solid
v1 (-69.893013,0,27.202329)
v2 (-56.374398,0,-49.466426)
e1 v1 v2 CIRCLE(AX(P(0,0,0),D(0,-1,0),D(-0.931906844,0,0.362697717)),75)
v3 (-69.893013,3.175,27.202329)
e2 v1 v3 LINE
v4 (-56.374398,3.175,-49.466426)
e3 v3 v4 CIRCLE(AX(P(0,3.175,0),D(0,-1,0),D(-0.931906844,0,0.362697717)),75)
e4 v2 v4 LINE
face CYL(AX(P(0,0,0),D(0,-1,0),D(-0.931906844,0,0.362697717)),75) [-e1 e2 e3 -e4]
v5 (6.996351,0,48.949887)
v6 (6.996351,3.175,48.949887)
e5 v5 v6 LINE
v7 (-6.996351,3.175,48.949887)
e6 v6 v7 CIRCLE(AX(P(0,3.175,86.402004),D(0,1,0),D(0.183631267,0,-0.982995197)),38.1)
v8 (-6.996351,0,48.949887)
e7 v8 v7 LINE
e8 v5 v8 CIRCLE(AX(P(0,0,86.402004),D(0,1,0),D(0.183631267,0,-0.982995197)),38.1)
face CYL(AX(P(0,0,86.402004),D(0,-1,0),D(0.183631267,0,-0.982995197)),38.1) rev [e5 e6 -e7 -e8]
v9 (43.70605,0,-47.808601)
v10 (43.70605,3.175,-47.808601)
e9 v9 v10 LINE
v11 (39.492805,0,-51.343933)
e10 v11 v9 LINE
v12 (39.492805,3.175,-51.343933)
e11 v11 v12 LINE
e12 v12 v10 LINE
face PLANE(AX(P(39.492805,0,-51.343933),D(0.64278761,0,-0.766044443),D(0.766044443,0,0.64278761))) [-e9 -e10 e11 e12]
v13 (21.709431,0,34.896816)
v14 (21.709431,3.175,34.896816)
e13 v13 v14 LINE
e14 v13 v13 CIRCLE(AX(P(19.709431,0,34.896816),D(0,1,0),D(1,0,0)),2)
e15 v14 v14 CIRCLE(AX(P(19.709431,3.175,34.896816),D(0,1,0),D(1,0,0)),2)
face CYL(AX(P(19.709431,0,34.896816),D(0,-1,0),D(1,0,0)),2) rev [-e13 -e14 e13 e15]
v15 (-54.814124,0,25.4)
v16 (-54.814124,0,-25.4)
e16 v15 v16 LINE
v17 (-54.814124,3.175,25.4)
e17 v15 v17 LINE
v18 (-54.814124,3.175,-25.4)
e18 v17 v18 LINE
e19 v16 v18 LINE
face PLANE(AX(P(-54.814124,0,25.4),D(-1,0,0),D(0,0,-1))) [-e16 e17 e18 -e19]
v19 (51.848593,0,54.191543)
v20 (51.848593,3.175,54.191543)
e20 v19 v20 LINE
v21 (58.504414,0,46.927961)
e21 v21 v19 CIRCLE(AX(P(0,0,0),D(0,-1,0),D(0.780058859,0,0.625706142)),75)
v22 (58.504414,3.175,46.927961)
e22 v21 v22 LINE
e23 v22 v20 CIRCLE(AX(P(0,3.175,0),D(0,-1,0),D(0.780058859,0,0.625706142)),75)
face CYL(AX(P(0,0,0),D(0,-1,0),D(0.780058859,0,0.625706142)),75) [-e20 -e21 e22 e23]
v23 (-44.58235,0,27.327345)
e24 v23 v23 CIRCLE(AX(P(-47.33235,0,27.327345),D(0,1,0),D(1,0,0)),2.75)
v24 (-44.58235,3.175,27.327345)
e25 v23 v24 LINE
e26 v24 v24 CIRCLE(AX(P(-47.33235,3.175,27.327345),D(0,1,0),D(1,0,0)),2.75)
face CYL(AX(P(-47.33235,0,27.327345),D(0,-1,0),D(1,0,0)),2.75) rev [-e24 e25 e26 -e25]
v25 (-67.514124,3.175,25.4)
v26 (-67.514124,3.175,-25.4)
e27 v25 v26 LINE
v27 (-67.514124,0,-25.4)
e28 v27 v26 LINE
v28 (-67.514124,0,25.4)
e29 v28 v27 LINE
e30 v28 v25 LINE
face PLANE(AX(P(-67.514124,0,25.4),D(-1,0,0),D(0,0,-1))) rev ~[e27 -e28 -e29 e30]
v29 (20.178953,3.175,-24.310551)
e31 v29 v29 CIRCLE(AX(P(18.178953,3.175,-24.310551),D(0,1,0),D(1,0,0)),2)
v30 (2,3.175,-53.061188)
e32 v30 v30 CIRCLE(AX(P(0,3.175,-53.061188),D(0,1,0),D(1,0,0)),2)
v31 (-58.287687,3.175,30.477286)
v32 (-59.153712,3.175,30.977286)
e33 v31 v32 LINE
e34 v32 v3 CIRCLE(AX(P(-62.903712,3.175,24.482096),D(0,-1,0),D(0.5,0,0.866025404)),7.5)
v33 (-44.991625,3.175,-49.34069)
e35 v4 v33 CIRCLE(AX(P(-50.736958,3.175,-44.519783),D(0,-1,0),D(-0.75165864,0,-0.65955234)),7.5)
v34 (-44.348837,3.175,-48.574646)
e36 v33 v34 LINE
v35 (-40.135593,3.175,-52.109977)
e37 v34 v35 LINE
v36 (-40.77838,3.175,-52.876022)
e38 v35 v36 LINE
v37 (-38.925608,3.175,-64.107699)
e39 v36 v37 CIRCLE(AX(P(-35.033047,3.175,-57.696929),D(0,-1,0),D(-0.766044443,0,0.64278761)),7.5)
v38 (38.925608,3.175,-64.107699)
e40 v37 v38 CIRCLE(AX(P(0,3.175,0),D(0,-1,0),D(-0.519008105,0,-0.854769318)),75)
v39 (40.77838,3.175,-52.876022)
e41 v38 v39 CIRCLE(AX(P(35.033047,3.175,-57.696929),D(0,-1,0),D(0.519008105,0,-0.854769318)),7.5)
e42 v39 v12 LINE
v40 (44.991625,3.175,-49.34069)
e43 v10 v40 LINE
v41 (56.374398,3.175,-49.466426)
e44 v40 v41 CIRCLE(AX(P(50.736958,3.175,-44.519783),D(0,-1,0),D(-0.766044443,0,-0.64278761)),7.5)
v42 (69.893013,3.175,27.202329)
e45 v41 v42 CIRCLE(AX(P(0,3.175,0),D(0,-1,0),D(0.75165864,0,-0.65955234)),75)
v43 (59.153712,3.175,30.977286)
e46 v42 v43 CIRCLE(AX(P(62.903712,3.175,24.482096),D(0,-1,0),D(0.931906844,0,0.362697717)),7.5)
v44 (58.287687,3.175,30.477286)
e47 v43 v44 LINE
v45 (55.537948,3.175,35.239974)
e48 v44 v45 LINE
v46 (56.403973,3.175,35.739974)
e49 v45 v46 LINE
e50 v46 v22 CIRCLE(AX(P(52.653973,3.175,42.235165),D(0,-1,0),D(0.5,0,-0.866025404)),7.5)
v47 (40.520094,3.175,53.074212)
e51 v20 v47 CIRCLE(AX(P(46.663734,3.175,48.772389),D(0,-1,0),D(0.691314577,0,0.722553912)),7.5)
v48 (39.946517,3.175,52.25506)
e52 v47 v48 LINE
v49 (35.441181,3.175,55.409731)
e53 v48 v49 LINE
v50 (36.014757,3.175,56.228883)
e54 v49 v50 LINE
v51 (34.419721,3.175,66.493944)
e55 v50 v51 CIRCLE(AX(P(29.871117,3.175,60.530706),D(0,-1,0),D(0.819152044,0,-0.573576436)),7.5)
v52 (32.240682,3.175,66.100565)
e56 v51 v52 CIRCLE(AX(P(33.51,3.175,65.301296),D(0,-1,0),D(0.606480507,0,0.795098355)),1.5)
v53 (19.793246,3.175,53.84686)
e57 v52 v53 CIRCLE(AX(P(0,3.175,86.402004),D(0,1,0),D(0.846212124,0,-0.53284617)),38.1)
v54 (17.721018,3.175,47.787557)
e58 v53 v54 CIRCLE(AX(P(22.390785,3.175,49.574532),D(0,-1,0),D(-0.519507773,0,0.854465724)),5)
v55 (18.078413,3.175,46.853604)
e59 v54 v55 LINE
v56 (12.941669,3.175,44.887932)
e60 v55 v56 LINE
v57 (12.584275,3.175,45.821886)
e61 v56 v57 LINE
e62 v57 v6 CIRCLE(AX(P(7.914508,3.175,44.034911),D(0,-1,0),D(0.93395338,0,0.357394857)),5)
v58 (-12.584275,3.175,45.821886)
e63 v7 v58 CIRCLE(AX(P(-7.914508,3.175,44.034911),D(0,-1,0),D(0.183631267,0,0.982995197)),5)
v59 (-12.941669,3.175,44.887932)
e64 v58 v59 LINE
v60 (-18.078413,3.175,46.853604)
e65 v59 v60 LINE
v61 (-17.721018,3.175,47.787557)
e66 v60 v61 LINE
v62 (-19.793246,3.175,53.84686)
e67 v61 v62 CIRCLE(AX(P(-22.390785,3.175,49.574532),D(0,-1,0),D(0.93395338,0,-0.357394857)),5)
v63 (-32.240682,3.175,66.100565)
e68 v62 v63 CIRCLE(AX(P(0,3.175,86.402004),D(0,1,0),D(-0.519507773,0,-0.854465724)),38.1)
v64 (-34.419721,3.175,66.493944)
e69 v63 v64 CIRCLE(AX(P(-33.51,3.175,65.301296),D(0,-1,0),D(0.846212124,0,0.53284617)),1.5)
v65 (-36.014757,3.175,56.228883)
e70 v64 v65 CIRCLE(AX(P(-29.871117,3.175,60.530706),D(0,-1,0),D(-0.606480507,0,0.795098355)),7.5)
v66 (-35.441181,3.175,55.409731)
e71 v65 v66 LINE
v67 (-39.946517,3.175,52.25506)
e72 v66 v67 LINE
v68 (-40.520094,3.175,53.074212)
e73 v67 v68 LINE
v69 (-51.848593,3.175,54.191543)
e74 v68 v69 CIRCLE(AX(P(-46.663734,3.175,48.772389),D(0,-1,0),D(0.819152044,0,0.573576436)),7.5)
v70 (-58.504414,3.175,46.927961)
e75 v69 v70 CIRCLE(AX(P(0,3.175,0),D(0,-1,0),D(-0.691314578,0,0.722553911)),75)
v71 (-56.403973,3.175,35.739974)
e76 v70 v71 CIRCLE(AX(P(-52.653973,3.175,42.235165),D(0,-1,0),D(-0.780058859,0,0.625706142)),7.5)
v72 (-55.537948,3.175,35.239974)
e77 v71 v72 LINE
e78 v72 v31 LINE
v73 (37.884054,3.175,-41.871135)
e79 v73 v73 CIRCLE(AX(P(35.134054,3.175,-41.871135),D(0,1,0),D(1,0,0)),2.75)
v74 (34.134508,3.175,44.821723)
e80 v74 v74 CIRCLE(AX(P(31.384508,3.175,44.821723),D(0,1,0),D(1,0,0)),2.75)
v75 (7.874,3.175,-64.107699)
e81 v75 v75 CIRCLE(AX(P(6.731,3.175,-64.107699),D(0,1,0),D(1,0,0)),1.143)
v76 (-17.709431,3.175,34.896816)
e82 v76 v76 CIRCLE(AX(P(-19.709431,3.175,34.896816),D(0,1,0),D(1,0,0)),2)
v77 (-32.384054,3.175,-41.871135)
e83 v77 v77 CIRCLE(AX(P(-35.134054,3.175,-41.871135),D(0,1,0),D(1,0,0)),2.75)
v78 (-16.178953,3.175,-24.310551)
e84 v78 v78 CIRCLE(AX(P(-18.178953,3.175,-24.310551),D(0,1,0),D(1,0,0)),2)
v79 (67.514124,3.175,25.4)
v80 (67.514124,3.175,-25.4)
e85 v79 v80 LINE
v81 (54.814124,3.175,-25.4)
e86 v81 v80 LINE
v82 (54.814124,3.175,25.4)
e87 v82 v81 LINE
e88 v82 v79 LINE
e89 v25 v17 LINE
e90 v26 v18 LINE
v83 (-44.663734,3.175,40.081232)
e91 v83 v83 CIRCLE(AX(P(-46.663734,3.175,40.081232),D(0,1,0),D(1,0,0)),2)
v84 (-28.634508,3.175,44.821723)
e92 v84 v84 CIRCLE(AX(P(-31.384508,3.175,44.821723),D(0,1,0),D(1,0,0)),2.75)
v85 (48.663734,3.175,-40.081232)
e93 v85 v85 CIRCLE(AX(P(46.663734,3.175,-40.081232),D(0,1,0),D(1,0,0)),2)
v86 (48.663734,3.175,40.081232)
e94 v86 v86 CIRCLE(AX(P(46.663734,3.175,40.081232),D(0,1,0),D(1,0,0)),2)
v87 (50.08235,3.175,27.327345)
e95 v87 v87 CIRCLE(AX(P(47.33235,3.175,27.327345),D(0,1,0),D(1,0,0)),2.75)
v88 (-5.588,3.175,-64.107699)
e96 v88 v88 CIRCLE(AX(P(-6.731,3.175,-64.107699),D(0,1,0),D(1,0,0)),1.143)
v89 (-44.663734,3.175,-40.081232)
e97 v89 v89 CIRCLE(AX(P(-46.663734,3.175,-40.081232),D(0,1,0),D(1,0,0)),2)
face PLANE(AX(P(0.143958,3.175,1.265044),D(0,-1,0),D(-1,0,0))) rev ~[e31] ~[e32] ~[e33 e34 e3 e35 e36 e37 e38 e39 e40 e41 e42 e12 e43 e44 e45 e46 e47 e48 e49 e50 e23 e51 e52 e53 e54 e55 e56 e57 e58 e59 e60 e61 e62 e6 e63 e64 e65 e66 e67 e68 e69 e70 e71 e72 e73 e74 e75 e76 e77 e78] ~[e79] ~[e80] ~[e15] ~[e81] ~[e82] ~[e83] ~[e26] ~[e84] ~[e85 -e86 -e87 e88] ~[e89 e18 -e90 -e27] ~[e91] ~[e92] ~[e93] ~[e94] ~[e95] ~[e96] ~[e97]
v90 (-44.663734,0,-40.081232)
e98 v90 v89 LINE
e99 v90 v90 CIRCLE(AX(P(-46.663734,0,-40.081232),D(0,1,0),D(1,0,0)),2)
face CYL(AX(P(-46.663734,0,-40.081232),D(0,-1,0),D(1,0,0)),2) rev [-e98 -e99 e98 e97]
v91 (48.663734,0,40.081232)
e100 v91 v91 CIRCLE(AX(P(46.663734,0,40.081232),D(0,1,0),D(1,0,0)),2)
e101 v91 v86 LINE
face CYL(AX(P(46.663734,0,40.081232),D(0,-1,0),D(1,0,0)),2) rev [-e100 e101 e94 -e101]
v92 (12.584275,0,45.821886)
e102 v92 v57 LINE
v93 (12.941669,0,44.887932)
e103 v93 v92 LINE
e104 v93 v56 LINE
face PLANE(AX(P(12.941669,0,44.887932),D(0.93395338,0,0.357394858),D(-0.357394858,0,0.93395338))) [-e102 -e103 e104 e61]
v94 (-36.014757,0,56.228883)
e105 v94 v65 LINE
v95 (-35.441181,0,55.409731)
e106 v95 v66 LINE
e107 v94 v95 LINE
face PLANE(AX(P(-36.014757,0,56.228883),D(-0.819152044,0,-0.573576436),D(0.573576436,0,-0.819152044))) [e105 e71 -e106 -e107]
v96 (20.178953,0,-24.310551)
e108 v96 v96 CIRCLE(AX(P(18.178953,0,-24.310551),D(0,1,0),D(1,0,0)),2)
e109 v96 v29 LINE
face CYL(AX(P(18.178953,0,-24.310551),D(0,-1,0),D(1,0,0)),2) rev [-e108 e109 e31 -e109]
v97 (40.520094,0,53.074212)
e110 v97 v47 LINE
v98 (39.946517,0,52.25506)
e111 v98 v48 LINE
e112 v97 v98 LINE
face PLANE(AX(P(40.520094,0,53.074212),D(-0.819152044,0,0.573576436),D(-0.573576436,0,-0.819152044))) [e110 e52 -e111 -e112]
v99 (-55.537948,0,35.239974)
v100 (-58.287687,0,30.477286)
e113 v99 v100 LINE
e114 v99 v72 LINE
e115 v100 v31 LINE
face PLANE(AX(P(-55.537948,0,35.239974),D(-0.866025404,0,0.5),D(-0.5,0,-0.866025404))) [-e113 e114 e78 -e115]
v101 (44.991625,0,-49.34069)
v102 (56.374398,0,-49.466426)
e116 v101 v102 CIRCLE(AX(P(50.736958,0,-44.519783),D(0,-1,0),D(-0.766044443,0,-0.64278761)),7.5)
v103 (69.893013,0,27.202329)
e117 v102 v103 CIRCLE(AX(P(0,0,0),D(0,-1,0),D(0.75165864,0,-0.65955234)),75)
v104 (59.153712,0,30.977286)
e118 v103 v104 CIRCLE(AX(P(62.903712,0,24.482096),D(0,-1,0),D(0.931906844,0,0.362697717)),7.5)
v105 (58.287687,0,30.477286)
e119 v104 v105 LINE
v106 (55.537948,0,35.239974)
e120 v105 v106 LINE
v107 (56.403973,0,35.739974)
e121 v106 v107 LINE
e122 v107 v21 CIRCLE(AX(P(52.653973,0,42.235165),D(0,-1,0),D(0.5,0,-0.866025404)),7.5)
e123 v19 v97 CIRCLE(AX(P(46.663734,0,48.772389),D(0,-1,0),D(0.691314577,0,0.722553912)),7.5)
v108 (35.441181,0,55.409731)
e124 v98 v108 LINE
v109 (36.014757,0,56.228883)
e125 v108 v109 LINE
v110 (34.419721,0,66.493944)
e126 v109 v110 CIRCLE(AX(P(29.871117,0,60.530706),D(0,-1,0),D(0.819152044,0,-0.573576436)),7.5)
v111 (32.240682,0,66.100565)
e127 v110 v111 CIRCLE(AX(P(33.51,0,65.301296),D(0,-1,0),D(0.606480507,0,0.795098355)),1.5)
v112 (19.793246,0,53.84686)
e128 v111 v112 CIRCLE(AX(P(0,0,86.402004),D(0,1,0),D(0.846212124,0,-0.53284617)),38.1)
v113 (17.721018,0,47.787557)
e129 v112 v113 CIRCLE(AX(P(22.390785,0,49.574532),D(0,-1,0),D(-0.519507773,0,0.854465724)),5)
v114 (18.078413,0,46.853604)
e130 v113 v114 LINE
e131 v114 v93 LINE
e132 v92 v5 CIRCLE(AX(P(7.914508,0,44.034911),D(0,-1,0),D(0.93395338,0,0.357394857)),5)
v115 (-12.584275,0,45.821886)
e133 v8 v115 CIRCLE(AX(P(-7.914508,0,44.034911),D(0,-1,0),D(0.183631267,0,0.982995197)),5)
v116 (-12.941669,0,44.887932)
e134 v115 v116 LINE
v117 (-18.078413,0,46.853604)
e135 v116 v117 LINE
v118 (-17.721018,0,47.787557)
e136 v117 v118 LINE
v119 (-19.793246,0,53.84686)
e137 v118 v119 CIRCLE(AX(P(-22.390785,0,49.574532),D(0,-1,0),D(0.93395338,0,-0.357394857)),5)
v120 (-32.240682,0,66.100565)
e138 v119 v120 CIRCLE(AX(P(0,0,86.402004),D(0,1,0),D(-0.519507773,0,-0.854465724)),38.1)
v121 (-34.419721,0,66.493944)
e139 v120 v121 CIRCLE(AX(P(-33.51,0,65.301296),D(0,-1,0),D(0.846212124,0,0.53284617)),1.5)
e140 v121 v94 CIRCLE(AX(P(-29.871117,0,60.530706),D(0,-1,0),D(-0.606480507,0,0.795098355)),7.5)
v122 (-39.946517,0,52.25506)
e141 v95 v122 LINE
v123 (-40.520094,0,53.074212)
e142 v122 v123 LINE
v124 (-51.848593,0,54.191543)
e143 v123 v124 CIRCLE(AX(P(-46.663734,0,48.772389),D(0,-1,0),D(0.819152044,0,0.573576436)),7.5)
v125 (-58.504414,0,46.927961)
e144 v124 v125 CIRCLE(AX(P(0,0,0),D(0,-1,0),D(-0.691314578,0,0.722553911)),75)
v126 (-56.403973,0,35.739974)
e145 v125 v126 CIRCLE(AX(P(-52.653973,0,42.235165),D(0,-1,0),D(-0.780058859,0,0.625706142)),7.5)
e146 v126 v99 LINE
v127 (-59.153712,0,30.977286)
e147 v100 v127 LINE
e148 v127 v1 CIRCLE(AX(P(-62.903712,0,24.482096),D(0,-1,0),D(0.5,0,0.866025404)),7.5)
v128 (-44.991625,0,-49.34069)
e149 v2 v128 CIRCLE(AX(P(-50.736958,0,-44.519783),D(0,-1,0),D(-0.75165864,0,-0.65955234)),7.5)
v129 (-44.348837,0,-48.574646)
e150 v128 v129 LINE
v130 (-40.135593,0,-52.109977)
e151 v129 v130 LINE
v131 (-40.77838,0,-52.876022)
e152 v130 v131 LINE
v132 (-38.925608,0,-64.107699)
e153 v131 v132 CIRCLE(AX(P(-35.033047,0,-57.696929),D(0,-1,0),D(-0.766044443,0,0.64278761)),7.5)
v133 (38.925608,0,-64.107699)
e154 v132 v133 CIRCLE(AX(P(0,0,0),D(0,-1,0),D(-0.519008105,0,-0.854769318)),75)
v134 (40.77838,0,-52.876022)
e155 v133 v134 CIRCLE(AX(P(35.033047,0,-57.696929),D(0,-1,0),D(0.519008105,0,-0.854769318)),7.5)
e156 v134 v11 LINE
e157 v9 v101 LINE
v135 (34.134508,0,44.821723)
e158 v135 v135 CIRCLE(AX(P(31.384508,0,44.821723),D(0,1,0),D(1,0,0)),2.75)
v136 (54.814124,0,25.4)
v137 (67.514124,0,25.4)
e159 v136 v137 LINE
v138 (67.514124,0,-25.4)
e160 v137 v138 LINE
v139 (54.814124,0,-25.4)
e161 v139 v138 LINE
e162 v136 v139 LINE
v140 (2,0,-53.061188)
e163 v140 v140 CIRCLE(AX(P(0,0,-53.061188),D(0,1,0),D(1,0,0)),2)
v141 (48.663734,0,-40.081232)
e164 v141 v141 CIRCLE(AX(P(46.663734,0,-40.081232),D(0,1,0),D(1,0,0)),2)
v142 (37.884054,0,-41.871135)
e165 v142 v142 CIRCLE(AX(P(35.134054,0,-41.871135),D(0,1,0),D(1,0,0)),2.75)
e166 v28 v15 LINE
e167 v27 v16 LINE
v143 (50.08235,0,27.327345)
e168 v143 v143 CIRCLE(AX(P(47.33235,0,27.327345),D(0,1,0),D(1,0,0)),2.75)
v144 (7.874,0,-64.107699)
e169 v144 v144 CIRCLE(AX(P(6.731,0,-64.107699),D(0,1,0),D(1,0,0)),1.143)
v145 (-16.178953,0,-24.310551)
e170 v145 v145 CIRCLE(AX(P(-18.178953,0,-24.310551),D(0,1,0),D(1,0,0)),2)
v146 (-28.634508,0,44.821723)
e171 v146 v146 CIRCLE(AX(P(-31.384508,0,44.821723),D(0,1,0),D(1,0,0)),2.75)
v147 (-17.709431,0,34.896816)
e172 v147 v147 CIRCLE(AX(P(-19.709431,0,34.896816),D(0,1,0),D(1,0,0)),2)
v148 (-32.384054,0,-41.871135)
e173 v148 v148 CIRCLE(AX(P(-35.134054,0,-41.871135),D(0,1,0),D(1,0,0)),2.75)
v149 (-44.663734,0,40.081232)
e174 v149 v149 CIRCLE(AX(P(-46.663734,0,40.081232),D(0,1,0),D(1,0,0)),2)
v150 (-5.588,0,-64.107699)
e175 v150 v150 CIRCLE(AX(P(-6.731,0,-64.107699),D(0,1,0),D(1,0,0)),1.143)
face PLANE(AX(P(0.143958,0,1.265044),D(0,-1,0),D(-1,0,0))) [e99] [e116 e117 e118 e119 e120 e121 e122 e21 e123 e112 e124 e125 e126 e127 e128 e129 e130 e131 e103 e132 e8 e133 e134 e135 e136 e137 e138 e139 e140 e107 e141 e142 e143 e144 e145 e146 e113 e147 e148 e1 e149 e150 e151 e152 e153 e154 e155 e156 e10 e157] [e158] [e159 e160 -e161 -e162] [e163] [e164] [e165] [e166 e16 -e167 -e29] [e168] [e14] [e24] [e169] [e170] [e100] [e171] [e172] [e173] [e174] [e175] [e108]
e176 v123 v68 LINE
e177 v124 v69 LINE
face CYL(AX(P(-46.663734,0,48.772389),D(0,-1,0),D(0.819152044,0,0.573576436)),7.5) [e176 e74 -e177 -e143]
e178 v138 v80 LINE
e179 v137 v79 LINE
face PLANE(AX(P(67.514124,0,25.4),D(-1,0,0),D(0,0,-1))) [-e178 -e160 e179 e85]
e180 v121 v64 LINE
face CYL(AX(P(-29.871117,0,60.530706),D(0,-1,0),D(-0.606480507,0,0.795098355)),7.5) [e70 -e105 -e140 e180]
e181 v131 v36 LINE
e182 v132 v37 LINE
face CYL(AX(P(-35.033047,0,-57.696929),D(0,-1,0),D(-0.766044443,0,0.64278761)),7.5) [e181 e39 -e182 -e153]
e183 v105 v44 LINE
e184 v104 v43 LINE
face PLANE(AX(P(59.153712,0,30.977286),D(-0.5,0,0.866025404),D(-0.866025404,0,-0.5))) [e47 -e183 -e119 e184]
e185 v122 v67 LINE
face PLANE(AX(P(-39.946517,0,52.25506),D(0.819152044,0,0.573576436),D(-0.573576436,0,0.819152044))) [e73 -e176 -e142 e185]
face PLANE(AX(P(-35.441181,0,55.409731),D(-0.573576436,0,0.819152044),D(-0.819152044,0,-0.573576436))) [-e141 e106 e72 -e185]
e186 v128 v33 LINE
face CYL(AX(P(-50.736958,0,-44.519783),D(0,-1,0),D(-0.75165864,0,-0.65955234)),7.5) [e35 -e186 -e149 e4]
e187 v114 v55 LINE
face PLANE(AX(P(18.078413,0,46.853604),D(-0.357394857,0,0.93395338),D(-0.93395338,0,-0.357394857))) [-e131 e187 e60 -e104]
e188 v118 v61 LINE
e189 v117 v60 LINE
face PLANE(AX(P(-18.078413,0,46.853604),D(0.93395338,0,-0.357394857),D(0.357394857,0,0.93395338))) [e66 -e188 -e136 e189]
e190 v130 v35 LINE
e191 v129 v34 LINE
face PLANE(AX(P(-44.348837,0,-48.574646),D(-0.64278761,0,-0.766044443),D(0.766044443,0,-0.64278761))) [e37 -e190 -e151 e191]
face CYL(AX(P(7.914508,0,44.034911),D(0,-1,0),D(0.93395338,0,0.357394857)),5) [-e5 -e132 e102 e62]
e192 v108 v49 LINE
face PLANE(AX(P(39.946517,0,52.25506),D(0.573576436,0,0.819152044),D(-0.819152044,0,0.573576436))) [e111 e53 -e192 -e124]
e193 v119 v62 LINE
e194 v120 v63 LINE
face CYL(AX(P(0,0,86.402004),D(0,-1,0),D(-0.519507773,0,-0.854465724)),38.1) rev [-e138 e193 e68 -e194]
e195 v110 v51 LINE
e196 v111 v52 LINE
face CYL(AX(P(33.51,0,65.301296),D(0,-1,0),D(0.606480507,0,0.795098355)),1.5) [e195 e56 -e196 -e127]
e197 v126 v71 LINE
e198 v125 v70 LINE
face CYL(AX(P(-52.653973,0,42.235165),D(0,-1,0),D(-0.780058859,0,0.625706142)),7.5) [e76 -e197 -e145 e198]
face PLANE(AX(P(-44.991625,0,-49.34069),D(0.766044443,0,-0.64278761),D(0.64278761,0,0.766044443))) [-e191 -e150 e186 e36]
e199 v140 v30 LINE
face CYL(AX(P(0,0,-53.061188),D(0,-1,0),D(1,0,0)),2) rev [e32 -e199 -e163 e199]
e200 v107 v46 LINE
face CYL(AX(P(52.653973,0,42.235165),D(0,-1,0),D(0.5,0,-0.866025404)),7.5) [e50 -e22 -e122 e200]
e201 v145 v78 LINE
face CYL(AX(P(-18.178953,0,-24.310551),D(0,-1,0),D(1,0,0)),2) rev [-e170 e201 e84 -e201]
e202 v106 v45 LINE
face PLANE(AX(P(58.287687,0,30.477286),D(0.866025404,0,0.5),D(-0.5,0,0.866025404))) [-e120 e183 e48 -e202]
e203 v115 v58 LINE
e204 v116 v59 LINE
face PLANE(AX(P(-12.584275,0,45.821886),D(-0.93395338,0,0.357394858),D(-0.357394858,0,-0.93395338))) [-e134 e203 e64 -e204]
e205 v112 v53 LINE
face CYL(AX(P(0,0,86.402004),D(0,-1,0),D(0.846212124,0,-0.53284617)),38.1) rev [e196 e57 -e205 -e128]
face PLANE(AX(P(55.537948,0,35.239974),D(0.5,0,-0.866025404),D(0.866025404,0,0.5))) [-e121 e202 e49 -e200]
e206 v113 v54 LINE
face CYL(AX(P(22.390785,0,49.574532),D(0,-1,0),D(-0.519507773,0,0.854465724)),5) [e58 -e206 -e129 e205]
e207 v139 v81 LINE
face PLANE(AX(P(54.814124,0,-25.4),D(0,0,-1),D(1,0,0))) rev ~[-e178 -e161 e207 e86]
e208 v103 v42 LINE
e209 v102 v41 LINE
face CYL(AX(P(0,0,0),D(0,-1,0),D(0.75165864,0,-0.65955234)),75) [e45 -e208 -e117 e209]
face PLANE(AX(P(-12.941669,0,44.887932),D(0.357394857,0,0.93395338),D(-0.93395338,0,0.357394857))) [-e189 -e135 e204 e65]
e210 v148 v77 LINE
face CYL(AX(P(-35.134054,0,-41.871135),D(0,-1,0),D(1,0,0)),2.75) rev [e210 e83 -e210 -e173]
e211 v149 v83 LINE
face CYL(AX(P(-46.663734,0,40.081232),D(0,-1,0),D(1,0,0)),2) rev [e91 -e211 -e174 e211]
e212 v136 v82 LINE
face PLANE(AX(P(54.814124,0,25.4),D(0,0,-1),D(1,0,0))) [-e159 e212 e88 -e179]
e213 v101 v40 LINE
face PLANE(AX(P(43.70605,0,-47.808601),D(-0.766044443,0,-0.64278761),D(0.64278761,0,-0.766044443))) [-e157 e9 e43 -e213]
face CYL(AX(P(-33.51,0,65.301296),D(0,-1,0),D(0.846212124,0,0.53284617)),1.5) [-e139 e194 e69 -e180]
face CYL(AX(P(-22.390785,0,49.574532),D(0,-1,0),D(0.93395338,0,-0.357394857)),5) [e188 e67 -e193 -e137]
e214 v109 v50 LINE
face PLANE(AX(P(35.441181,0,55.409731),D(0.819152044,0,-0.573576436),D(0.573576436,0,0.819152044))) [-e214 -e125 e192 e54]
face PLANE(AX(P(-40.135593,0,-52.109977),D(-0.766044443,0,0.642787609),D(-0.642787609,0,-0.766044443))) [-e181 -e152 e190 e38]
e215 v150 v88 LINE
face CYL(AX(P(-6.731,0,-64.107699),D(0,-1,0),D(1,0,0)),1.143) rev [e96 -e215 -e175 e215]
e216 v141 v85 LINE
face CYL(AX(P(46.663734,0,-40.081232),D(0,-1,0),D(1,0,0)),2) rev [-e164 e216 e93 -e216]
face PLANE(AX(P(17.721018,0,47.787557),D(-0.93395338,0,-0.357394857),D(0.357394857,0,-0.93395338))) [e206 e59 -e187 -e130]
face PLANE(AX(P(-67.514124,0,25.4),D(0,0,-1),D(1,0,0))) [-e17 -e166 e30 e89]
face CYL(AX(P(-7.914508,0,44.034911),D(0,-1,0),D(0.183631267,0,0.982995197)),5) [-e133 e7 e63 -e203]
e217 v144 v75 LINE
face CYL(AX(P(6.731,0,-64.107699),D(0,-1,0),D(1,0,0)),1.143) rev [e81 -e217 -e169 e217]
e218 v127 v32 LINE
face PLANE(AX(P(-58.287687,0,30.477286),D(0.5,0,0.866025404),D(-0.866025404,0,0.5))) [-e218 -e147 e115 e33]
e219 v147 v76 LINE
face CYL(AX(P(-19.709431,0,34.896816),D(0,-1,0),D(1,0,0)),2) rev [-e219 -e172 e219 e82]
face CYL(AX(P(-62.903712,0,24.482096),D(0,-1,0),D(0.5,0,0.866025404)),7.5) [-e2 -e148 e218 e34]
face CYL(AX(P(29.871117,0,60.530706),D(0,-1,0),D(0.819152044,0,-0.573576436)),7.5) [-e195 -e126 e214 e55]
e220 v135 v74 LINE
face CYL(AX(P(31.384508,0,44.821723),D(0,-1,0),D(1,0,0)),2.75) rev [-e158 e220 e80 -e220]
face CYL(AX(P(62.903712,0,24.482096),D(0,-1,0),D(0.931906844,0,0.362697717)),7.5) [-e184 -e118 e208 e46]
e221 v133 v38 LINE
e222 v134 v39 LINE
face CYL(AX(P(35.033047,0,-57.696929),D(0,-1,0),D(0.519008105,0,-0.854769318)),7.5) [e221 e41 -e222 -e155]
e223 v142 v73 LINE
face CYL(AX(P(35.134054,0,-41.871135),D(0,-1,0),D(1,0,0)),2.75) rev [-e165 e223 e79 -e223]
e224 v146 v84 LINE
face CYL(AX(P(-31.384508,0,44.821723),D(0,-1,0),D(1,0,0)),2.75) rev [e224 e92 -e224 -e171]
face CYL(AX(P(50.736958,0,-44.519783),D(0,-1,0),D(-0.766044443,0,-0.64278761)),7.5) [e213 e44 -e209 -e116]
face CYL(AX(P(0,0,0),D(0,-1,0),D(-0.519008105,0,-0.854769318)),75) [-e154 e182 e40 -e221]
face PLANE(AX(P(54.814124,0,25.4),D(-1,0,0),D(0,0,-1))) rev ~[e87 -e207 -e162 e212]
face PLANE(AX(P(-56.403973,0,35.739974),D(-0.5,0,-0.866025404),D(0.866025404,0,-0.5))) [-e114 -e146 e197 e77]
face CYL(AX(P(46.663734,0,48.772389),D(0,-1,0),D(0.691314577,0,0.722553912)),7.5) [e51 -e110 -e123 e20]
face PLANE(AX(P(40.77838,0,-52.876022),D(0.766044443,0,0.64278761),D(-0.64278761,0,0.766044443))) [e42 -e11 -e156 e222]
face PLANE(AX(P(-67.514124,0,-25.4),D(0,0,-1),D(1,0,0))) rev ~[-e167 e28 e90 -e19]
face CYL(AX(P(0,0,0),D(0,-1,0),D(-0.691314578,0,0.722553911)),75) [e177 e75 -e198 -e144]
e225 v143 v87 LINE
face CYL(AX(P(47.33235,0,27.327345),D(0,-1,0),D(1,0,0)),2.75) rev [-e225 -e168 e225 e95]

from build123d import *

# Parameters (mm, degrees)
SKETCH1_R           = 2
SKETCH1_R_2         = 1.143
SKETCH1_R_3         = 2.75
SKETCH1_W           = 12.7
SKETCH1_H           = 50.8
BOSS_EXTRUDE1_DEPTH = 3.175


with BuildPart() as part:
    # Sketch1 → Boss-Extrude1 (new body)
    with BuildSketch(Plane(origin=(0, 0, 0), x_dir=(1, 0, 0), z_dir=(0, 1, 0))):
        with BuildLine():
            Line((-36.014757408, -56.228882693), (-35.441180971, -55.409730648))
            Line((-35.441180971, -55.409730648), (-39.946517215, -52.255060249))
            Line((-39.946517215, -52.255060249), (-40.520093651, -53.074212293))
            ThreePointArc((-40.520093651, -53.074212293), (-45.927580176, -56.23617342), (-51.848593315, -54.191543356))
            ThreePointArc((-51.848593315, -54.191543356), (-55.295899374, -50.669157408), (-58.504414423, -46.927960674))
            ThreePointArc((-58.504414423, -46.927960674), (-60.025192689, -40.851285995), (-56.403972981, -35.739974078))
            Line((-56.403972981, -35.739974078), (-55.537947577, -35.239974078))
            Line((-55.537947577, -35.239974078), (-58.287686569, -30.477286437))
            Line((-58.287686569, -30.477286437), (-59.153711973, -30.977286437))
            ThreePointArc((-59.153711973, -30.977286437), (-65.390847794, -31.557698738), (-69.893013303, -27.202328787))
            ThreePointArc((-69.893013303, -27.202328787), (-73.860606951, 13.023468848), (-56.374397975, 49.466425512))
            ThreePointArc((-56.374397975, 49.466425512), (-50.654117331, 52.01932544), (-44.991624855, 49.340690033))
            Line((-44.991624855, 49.340690033), (-44.348837245, 48.57464559))
            Line((-44.348837245, 48.57464559), (-40.135592808, 52.109977443))
            Line((-40.135592808, 52.109977443), (-40.778380417, 52.876021886))
            ThreePointArc((-40.778380417, 52.876021886), (-42.433039833, 58.917628536), (-38.925607882, 64.107698843))
            ThreePointArc((-38.925607882, 64.107698843), (0, 75), (38.925607882, 64.107698843))
            ThreePointArc((38.925607882, 64.107698843), (42.433039833, 58.917628536), (40.778380417, 52.876021886))
            Line((40.778380417, 52.876021886), (39.492805198, 51.343933))
            Line((39.492805198, 51.343933), (43.706049635, 47.808601147))
            Line((43.706049635, 47.808601147), (44.991624855, 49.340690033))
            ThreePointArc((44.991624855, 49.340690033), (50.654117331, 52.01932544), (56.374397975, 49.466425512))
            ThreePointArc((56.374397975, 49.466425512), (73.860606951, 13.023468848), (69.893013303, -27.202328787))
            ThreePointArc((69.893013303, -27.202328787), (65.390847794, -31.557698738), (59.153711973, -30.977286437))
            Line((59.153711973, -30.977286437), (58.287686569, -30.477286437))
            Line((58.287686569, -30.477286437), (55.537947577, -35.239974078))
            Line((55.537947577, -35.239974078), (56.403972981, -35.739974078))
            ThreePointArc((56.403972981, -35.739974078), (60.025192689, -40.851285995), (58.504414423, -46.927960674))
            ThreePointArc((58.504414423, -46.927960674), (55.295899374, -50.669157408), (51.848593315, -54.191543356))
            ThreePointArc((51.848593315, -54.191543356), (45.927580176, -56.23617342), (40.520093651, -53.074212293))
            Line((40.520093651, -53.074212293), (39.946517215, -52.255060249))
            Line((39.946517215, -52.255060249), (35.441180971, -55.409730648))
            Line((35.441180971, -55.409730648), (36.014757408, -56.228882693))
            ThreePointArc((36.014757408, -56.228882693), (37.282182463, -61.682274385), (34.419720881, -66.493943628))
            ThreePointArc((34.419720881, -66.493943628), (33.243515234, -66.777434912), (32.240681933, -66.10056535))
            ThreePointArc((32.240681933, -66.10056535), (26.728650164, -59.250774979), (19.793246149, -53.846860332))
            ThreePointArc((19.793246149, -53.846860332), (17.659799789, -51.192486841), (17.721018114, -47.787557426))
            Line((17.721018114, -47.787557426), (18.078412971, -46.853604046))
            Line((18.078412971, -46.853604046), (12.941669381, -44.887932332))
            Line((12.941669381, -44.887932332), (12.584274523, -45.821885712))
            ThreePointArc((12.584274523, -45.821885712), (10.356790186, -48.397852623), (6.996351286, -48.949887413))
            ThreePointArc((6.996351286, -48.949887413), (0, -48.302004425), (-6.996351286, -48.949887413))
            ThreePointArc((-6.996351286, -48.949887413), (-10.356790186, -48.397852623), (-12.584274523, -45.821885712))
            Line((-12.584274523, -45.821885712), (-12.941669381, -44.887932332))
            Line((-12.941669381, -44.887932332), (-18.078412971, -46.853604046))
            Line((-18.078412971, -46.853604046), (-17.721018114, -47.787557426))
            ThreePointArc((-17.721018114, -47.787557426), (-17.659799789, -51.192486841), (-19.793246149, -53.846860332))
            ThreePointArc((-19.793246149, -53.846860332), (-26.728650164, -59.250774979), (-32.240681933, -66.10056535))
            ThreePointArc((-32.240681933, -66.10056535), (-33.243515234, -66.777434912), (-34.419720881, -66.493943628))
            ThreePointArc((-34.419720881, -66.493943628), (-37.282182463, -61.682274385), (-36.014757408, -56.228882693))
        make_face()
        with Locations((-18.178952795, 24.310551096)):
            Circle(SKETCH1_R, mode=Mode.SUBTRACT)
        with Locations((-46.663733983, -40.081231883)):
            Circle(SKETCH1_R, mode=Mode.SUBTRACT)
        with Locations((46.663733983, -40.081231883)):
            Circle(SKETCH1_R, mode=Mode.SUBTRACT)
        with Locations((46.663733983, 40.081231883)):
            Circle(SKETCH1_R, mode=Mode.SUBTRACT)
        with Locations((-46.663733983, 40.081231883)):
            Circle(SKETCH1_R, mode=Mode.SUBTRACT)
        with Locations((-6.731, 64.107698843)):
            Circle(SKETCH1_R_2, mode=Mode.SUBTRACT)
        with Locations((6.731, 64.107698843)):
            Circle(SKETCH1_R_2, mode=Mode.SUBTRACT)
        with Locations((-31.384508293, -44.821722961)):
            Circle(SKETCH1_R_3, mode=Mode.SUBTRACT)
        with Locations((18.178952795, 24.310551096)):
            Circle(SKETCH1_R, mode=Mode.SUBTRACT)
        with Locations((0, 53.061187965)):
            Circle(SKETCH1_R, mode=Mode.SUBTRACT)
        with Locations((-47.332350097, -27.32734507)):
            Circle(SKETCH1_R_3, mode=Mode.SUBTRACT)
        with Locations((-35.134053633, 41.871134639)):
            Circle(SKETCH1_R_3, mode=Mode.SUBTRACT)
        with Locations((-19.709430746, -34.896815973)):
            Circle(SKETCH1_R, mode=Mode.SUBTRACT)
        with Locations((35.134053633, 41.871134639)):
            Circle(SKETCH1_R_3, mode=Mode.SUBTRACT)
        with Locations((47.332350097, -27.32734507)):
            Circle(SKETCH1_R_3, mode=Mode.SUBTRACT)
        with Locations((31.384508293, -44.821722961)):
            Circle(SKETCH1_R_3, mode=Mode.SUBTRACT)
        with Locations((19.709430746, -34.896815973)):
            Circle(SKETCH1_R, mode=Mode.SUBTRACT)
        with Locations((61.164123727, 0)):
            Rectangle(SKETCH1_W, SKETCH1_H, mode=Mode.SUBTRACT)
        with Locations((-61.164123727, 0)):
            Rectangle(SKETCH1_W, SKETCH1_H, mode=Mode.SUBTRACT)
    extrude(amount=BOSS_EXTRUDE1_DEPTH)


solid = part.part
